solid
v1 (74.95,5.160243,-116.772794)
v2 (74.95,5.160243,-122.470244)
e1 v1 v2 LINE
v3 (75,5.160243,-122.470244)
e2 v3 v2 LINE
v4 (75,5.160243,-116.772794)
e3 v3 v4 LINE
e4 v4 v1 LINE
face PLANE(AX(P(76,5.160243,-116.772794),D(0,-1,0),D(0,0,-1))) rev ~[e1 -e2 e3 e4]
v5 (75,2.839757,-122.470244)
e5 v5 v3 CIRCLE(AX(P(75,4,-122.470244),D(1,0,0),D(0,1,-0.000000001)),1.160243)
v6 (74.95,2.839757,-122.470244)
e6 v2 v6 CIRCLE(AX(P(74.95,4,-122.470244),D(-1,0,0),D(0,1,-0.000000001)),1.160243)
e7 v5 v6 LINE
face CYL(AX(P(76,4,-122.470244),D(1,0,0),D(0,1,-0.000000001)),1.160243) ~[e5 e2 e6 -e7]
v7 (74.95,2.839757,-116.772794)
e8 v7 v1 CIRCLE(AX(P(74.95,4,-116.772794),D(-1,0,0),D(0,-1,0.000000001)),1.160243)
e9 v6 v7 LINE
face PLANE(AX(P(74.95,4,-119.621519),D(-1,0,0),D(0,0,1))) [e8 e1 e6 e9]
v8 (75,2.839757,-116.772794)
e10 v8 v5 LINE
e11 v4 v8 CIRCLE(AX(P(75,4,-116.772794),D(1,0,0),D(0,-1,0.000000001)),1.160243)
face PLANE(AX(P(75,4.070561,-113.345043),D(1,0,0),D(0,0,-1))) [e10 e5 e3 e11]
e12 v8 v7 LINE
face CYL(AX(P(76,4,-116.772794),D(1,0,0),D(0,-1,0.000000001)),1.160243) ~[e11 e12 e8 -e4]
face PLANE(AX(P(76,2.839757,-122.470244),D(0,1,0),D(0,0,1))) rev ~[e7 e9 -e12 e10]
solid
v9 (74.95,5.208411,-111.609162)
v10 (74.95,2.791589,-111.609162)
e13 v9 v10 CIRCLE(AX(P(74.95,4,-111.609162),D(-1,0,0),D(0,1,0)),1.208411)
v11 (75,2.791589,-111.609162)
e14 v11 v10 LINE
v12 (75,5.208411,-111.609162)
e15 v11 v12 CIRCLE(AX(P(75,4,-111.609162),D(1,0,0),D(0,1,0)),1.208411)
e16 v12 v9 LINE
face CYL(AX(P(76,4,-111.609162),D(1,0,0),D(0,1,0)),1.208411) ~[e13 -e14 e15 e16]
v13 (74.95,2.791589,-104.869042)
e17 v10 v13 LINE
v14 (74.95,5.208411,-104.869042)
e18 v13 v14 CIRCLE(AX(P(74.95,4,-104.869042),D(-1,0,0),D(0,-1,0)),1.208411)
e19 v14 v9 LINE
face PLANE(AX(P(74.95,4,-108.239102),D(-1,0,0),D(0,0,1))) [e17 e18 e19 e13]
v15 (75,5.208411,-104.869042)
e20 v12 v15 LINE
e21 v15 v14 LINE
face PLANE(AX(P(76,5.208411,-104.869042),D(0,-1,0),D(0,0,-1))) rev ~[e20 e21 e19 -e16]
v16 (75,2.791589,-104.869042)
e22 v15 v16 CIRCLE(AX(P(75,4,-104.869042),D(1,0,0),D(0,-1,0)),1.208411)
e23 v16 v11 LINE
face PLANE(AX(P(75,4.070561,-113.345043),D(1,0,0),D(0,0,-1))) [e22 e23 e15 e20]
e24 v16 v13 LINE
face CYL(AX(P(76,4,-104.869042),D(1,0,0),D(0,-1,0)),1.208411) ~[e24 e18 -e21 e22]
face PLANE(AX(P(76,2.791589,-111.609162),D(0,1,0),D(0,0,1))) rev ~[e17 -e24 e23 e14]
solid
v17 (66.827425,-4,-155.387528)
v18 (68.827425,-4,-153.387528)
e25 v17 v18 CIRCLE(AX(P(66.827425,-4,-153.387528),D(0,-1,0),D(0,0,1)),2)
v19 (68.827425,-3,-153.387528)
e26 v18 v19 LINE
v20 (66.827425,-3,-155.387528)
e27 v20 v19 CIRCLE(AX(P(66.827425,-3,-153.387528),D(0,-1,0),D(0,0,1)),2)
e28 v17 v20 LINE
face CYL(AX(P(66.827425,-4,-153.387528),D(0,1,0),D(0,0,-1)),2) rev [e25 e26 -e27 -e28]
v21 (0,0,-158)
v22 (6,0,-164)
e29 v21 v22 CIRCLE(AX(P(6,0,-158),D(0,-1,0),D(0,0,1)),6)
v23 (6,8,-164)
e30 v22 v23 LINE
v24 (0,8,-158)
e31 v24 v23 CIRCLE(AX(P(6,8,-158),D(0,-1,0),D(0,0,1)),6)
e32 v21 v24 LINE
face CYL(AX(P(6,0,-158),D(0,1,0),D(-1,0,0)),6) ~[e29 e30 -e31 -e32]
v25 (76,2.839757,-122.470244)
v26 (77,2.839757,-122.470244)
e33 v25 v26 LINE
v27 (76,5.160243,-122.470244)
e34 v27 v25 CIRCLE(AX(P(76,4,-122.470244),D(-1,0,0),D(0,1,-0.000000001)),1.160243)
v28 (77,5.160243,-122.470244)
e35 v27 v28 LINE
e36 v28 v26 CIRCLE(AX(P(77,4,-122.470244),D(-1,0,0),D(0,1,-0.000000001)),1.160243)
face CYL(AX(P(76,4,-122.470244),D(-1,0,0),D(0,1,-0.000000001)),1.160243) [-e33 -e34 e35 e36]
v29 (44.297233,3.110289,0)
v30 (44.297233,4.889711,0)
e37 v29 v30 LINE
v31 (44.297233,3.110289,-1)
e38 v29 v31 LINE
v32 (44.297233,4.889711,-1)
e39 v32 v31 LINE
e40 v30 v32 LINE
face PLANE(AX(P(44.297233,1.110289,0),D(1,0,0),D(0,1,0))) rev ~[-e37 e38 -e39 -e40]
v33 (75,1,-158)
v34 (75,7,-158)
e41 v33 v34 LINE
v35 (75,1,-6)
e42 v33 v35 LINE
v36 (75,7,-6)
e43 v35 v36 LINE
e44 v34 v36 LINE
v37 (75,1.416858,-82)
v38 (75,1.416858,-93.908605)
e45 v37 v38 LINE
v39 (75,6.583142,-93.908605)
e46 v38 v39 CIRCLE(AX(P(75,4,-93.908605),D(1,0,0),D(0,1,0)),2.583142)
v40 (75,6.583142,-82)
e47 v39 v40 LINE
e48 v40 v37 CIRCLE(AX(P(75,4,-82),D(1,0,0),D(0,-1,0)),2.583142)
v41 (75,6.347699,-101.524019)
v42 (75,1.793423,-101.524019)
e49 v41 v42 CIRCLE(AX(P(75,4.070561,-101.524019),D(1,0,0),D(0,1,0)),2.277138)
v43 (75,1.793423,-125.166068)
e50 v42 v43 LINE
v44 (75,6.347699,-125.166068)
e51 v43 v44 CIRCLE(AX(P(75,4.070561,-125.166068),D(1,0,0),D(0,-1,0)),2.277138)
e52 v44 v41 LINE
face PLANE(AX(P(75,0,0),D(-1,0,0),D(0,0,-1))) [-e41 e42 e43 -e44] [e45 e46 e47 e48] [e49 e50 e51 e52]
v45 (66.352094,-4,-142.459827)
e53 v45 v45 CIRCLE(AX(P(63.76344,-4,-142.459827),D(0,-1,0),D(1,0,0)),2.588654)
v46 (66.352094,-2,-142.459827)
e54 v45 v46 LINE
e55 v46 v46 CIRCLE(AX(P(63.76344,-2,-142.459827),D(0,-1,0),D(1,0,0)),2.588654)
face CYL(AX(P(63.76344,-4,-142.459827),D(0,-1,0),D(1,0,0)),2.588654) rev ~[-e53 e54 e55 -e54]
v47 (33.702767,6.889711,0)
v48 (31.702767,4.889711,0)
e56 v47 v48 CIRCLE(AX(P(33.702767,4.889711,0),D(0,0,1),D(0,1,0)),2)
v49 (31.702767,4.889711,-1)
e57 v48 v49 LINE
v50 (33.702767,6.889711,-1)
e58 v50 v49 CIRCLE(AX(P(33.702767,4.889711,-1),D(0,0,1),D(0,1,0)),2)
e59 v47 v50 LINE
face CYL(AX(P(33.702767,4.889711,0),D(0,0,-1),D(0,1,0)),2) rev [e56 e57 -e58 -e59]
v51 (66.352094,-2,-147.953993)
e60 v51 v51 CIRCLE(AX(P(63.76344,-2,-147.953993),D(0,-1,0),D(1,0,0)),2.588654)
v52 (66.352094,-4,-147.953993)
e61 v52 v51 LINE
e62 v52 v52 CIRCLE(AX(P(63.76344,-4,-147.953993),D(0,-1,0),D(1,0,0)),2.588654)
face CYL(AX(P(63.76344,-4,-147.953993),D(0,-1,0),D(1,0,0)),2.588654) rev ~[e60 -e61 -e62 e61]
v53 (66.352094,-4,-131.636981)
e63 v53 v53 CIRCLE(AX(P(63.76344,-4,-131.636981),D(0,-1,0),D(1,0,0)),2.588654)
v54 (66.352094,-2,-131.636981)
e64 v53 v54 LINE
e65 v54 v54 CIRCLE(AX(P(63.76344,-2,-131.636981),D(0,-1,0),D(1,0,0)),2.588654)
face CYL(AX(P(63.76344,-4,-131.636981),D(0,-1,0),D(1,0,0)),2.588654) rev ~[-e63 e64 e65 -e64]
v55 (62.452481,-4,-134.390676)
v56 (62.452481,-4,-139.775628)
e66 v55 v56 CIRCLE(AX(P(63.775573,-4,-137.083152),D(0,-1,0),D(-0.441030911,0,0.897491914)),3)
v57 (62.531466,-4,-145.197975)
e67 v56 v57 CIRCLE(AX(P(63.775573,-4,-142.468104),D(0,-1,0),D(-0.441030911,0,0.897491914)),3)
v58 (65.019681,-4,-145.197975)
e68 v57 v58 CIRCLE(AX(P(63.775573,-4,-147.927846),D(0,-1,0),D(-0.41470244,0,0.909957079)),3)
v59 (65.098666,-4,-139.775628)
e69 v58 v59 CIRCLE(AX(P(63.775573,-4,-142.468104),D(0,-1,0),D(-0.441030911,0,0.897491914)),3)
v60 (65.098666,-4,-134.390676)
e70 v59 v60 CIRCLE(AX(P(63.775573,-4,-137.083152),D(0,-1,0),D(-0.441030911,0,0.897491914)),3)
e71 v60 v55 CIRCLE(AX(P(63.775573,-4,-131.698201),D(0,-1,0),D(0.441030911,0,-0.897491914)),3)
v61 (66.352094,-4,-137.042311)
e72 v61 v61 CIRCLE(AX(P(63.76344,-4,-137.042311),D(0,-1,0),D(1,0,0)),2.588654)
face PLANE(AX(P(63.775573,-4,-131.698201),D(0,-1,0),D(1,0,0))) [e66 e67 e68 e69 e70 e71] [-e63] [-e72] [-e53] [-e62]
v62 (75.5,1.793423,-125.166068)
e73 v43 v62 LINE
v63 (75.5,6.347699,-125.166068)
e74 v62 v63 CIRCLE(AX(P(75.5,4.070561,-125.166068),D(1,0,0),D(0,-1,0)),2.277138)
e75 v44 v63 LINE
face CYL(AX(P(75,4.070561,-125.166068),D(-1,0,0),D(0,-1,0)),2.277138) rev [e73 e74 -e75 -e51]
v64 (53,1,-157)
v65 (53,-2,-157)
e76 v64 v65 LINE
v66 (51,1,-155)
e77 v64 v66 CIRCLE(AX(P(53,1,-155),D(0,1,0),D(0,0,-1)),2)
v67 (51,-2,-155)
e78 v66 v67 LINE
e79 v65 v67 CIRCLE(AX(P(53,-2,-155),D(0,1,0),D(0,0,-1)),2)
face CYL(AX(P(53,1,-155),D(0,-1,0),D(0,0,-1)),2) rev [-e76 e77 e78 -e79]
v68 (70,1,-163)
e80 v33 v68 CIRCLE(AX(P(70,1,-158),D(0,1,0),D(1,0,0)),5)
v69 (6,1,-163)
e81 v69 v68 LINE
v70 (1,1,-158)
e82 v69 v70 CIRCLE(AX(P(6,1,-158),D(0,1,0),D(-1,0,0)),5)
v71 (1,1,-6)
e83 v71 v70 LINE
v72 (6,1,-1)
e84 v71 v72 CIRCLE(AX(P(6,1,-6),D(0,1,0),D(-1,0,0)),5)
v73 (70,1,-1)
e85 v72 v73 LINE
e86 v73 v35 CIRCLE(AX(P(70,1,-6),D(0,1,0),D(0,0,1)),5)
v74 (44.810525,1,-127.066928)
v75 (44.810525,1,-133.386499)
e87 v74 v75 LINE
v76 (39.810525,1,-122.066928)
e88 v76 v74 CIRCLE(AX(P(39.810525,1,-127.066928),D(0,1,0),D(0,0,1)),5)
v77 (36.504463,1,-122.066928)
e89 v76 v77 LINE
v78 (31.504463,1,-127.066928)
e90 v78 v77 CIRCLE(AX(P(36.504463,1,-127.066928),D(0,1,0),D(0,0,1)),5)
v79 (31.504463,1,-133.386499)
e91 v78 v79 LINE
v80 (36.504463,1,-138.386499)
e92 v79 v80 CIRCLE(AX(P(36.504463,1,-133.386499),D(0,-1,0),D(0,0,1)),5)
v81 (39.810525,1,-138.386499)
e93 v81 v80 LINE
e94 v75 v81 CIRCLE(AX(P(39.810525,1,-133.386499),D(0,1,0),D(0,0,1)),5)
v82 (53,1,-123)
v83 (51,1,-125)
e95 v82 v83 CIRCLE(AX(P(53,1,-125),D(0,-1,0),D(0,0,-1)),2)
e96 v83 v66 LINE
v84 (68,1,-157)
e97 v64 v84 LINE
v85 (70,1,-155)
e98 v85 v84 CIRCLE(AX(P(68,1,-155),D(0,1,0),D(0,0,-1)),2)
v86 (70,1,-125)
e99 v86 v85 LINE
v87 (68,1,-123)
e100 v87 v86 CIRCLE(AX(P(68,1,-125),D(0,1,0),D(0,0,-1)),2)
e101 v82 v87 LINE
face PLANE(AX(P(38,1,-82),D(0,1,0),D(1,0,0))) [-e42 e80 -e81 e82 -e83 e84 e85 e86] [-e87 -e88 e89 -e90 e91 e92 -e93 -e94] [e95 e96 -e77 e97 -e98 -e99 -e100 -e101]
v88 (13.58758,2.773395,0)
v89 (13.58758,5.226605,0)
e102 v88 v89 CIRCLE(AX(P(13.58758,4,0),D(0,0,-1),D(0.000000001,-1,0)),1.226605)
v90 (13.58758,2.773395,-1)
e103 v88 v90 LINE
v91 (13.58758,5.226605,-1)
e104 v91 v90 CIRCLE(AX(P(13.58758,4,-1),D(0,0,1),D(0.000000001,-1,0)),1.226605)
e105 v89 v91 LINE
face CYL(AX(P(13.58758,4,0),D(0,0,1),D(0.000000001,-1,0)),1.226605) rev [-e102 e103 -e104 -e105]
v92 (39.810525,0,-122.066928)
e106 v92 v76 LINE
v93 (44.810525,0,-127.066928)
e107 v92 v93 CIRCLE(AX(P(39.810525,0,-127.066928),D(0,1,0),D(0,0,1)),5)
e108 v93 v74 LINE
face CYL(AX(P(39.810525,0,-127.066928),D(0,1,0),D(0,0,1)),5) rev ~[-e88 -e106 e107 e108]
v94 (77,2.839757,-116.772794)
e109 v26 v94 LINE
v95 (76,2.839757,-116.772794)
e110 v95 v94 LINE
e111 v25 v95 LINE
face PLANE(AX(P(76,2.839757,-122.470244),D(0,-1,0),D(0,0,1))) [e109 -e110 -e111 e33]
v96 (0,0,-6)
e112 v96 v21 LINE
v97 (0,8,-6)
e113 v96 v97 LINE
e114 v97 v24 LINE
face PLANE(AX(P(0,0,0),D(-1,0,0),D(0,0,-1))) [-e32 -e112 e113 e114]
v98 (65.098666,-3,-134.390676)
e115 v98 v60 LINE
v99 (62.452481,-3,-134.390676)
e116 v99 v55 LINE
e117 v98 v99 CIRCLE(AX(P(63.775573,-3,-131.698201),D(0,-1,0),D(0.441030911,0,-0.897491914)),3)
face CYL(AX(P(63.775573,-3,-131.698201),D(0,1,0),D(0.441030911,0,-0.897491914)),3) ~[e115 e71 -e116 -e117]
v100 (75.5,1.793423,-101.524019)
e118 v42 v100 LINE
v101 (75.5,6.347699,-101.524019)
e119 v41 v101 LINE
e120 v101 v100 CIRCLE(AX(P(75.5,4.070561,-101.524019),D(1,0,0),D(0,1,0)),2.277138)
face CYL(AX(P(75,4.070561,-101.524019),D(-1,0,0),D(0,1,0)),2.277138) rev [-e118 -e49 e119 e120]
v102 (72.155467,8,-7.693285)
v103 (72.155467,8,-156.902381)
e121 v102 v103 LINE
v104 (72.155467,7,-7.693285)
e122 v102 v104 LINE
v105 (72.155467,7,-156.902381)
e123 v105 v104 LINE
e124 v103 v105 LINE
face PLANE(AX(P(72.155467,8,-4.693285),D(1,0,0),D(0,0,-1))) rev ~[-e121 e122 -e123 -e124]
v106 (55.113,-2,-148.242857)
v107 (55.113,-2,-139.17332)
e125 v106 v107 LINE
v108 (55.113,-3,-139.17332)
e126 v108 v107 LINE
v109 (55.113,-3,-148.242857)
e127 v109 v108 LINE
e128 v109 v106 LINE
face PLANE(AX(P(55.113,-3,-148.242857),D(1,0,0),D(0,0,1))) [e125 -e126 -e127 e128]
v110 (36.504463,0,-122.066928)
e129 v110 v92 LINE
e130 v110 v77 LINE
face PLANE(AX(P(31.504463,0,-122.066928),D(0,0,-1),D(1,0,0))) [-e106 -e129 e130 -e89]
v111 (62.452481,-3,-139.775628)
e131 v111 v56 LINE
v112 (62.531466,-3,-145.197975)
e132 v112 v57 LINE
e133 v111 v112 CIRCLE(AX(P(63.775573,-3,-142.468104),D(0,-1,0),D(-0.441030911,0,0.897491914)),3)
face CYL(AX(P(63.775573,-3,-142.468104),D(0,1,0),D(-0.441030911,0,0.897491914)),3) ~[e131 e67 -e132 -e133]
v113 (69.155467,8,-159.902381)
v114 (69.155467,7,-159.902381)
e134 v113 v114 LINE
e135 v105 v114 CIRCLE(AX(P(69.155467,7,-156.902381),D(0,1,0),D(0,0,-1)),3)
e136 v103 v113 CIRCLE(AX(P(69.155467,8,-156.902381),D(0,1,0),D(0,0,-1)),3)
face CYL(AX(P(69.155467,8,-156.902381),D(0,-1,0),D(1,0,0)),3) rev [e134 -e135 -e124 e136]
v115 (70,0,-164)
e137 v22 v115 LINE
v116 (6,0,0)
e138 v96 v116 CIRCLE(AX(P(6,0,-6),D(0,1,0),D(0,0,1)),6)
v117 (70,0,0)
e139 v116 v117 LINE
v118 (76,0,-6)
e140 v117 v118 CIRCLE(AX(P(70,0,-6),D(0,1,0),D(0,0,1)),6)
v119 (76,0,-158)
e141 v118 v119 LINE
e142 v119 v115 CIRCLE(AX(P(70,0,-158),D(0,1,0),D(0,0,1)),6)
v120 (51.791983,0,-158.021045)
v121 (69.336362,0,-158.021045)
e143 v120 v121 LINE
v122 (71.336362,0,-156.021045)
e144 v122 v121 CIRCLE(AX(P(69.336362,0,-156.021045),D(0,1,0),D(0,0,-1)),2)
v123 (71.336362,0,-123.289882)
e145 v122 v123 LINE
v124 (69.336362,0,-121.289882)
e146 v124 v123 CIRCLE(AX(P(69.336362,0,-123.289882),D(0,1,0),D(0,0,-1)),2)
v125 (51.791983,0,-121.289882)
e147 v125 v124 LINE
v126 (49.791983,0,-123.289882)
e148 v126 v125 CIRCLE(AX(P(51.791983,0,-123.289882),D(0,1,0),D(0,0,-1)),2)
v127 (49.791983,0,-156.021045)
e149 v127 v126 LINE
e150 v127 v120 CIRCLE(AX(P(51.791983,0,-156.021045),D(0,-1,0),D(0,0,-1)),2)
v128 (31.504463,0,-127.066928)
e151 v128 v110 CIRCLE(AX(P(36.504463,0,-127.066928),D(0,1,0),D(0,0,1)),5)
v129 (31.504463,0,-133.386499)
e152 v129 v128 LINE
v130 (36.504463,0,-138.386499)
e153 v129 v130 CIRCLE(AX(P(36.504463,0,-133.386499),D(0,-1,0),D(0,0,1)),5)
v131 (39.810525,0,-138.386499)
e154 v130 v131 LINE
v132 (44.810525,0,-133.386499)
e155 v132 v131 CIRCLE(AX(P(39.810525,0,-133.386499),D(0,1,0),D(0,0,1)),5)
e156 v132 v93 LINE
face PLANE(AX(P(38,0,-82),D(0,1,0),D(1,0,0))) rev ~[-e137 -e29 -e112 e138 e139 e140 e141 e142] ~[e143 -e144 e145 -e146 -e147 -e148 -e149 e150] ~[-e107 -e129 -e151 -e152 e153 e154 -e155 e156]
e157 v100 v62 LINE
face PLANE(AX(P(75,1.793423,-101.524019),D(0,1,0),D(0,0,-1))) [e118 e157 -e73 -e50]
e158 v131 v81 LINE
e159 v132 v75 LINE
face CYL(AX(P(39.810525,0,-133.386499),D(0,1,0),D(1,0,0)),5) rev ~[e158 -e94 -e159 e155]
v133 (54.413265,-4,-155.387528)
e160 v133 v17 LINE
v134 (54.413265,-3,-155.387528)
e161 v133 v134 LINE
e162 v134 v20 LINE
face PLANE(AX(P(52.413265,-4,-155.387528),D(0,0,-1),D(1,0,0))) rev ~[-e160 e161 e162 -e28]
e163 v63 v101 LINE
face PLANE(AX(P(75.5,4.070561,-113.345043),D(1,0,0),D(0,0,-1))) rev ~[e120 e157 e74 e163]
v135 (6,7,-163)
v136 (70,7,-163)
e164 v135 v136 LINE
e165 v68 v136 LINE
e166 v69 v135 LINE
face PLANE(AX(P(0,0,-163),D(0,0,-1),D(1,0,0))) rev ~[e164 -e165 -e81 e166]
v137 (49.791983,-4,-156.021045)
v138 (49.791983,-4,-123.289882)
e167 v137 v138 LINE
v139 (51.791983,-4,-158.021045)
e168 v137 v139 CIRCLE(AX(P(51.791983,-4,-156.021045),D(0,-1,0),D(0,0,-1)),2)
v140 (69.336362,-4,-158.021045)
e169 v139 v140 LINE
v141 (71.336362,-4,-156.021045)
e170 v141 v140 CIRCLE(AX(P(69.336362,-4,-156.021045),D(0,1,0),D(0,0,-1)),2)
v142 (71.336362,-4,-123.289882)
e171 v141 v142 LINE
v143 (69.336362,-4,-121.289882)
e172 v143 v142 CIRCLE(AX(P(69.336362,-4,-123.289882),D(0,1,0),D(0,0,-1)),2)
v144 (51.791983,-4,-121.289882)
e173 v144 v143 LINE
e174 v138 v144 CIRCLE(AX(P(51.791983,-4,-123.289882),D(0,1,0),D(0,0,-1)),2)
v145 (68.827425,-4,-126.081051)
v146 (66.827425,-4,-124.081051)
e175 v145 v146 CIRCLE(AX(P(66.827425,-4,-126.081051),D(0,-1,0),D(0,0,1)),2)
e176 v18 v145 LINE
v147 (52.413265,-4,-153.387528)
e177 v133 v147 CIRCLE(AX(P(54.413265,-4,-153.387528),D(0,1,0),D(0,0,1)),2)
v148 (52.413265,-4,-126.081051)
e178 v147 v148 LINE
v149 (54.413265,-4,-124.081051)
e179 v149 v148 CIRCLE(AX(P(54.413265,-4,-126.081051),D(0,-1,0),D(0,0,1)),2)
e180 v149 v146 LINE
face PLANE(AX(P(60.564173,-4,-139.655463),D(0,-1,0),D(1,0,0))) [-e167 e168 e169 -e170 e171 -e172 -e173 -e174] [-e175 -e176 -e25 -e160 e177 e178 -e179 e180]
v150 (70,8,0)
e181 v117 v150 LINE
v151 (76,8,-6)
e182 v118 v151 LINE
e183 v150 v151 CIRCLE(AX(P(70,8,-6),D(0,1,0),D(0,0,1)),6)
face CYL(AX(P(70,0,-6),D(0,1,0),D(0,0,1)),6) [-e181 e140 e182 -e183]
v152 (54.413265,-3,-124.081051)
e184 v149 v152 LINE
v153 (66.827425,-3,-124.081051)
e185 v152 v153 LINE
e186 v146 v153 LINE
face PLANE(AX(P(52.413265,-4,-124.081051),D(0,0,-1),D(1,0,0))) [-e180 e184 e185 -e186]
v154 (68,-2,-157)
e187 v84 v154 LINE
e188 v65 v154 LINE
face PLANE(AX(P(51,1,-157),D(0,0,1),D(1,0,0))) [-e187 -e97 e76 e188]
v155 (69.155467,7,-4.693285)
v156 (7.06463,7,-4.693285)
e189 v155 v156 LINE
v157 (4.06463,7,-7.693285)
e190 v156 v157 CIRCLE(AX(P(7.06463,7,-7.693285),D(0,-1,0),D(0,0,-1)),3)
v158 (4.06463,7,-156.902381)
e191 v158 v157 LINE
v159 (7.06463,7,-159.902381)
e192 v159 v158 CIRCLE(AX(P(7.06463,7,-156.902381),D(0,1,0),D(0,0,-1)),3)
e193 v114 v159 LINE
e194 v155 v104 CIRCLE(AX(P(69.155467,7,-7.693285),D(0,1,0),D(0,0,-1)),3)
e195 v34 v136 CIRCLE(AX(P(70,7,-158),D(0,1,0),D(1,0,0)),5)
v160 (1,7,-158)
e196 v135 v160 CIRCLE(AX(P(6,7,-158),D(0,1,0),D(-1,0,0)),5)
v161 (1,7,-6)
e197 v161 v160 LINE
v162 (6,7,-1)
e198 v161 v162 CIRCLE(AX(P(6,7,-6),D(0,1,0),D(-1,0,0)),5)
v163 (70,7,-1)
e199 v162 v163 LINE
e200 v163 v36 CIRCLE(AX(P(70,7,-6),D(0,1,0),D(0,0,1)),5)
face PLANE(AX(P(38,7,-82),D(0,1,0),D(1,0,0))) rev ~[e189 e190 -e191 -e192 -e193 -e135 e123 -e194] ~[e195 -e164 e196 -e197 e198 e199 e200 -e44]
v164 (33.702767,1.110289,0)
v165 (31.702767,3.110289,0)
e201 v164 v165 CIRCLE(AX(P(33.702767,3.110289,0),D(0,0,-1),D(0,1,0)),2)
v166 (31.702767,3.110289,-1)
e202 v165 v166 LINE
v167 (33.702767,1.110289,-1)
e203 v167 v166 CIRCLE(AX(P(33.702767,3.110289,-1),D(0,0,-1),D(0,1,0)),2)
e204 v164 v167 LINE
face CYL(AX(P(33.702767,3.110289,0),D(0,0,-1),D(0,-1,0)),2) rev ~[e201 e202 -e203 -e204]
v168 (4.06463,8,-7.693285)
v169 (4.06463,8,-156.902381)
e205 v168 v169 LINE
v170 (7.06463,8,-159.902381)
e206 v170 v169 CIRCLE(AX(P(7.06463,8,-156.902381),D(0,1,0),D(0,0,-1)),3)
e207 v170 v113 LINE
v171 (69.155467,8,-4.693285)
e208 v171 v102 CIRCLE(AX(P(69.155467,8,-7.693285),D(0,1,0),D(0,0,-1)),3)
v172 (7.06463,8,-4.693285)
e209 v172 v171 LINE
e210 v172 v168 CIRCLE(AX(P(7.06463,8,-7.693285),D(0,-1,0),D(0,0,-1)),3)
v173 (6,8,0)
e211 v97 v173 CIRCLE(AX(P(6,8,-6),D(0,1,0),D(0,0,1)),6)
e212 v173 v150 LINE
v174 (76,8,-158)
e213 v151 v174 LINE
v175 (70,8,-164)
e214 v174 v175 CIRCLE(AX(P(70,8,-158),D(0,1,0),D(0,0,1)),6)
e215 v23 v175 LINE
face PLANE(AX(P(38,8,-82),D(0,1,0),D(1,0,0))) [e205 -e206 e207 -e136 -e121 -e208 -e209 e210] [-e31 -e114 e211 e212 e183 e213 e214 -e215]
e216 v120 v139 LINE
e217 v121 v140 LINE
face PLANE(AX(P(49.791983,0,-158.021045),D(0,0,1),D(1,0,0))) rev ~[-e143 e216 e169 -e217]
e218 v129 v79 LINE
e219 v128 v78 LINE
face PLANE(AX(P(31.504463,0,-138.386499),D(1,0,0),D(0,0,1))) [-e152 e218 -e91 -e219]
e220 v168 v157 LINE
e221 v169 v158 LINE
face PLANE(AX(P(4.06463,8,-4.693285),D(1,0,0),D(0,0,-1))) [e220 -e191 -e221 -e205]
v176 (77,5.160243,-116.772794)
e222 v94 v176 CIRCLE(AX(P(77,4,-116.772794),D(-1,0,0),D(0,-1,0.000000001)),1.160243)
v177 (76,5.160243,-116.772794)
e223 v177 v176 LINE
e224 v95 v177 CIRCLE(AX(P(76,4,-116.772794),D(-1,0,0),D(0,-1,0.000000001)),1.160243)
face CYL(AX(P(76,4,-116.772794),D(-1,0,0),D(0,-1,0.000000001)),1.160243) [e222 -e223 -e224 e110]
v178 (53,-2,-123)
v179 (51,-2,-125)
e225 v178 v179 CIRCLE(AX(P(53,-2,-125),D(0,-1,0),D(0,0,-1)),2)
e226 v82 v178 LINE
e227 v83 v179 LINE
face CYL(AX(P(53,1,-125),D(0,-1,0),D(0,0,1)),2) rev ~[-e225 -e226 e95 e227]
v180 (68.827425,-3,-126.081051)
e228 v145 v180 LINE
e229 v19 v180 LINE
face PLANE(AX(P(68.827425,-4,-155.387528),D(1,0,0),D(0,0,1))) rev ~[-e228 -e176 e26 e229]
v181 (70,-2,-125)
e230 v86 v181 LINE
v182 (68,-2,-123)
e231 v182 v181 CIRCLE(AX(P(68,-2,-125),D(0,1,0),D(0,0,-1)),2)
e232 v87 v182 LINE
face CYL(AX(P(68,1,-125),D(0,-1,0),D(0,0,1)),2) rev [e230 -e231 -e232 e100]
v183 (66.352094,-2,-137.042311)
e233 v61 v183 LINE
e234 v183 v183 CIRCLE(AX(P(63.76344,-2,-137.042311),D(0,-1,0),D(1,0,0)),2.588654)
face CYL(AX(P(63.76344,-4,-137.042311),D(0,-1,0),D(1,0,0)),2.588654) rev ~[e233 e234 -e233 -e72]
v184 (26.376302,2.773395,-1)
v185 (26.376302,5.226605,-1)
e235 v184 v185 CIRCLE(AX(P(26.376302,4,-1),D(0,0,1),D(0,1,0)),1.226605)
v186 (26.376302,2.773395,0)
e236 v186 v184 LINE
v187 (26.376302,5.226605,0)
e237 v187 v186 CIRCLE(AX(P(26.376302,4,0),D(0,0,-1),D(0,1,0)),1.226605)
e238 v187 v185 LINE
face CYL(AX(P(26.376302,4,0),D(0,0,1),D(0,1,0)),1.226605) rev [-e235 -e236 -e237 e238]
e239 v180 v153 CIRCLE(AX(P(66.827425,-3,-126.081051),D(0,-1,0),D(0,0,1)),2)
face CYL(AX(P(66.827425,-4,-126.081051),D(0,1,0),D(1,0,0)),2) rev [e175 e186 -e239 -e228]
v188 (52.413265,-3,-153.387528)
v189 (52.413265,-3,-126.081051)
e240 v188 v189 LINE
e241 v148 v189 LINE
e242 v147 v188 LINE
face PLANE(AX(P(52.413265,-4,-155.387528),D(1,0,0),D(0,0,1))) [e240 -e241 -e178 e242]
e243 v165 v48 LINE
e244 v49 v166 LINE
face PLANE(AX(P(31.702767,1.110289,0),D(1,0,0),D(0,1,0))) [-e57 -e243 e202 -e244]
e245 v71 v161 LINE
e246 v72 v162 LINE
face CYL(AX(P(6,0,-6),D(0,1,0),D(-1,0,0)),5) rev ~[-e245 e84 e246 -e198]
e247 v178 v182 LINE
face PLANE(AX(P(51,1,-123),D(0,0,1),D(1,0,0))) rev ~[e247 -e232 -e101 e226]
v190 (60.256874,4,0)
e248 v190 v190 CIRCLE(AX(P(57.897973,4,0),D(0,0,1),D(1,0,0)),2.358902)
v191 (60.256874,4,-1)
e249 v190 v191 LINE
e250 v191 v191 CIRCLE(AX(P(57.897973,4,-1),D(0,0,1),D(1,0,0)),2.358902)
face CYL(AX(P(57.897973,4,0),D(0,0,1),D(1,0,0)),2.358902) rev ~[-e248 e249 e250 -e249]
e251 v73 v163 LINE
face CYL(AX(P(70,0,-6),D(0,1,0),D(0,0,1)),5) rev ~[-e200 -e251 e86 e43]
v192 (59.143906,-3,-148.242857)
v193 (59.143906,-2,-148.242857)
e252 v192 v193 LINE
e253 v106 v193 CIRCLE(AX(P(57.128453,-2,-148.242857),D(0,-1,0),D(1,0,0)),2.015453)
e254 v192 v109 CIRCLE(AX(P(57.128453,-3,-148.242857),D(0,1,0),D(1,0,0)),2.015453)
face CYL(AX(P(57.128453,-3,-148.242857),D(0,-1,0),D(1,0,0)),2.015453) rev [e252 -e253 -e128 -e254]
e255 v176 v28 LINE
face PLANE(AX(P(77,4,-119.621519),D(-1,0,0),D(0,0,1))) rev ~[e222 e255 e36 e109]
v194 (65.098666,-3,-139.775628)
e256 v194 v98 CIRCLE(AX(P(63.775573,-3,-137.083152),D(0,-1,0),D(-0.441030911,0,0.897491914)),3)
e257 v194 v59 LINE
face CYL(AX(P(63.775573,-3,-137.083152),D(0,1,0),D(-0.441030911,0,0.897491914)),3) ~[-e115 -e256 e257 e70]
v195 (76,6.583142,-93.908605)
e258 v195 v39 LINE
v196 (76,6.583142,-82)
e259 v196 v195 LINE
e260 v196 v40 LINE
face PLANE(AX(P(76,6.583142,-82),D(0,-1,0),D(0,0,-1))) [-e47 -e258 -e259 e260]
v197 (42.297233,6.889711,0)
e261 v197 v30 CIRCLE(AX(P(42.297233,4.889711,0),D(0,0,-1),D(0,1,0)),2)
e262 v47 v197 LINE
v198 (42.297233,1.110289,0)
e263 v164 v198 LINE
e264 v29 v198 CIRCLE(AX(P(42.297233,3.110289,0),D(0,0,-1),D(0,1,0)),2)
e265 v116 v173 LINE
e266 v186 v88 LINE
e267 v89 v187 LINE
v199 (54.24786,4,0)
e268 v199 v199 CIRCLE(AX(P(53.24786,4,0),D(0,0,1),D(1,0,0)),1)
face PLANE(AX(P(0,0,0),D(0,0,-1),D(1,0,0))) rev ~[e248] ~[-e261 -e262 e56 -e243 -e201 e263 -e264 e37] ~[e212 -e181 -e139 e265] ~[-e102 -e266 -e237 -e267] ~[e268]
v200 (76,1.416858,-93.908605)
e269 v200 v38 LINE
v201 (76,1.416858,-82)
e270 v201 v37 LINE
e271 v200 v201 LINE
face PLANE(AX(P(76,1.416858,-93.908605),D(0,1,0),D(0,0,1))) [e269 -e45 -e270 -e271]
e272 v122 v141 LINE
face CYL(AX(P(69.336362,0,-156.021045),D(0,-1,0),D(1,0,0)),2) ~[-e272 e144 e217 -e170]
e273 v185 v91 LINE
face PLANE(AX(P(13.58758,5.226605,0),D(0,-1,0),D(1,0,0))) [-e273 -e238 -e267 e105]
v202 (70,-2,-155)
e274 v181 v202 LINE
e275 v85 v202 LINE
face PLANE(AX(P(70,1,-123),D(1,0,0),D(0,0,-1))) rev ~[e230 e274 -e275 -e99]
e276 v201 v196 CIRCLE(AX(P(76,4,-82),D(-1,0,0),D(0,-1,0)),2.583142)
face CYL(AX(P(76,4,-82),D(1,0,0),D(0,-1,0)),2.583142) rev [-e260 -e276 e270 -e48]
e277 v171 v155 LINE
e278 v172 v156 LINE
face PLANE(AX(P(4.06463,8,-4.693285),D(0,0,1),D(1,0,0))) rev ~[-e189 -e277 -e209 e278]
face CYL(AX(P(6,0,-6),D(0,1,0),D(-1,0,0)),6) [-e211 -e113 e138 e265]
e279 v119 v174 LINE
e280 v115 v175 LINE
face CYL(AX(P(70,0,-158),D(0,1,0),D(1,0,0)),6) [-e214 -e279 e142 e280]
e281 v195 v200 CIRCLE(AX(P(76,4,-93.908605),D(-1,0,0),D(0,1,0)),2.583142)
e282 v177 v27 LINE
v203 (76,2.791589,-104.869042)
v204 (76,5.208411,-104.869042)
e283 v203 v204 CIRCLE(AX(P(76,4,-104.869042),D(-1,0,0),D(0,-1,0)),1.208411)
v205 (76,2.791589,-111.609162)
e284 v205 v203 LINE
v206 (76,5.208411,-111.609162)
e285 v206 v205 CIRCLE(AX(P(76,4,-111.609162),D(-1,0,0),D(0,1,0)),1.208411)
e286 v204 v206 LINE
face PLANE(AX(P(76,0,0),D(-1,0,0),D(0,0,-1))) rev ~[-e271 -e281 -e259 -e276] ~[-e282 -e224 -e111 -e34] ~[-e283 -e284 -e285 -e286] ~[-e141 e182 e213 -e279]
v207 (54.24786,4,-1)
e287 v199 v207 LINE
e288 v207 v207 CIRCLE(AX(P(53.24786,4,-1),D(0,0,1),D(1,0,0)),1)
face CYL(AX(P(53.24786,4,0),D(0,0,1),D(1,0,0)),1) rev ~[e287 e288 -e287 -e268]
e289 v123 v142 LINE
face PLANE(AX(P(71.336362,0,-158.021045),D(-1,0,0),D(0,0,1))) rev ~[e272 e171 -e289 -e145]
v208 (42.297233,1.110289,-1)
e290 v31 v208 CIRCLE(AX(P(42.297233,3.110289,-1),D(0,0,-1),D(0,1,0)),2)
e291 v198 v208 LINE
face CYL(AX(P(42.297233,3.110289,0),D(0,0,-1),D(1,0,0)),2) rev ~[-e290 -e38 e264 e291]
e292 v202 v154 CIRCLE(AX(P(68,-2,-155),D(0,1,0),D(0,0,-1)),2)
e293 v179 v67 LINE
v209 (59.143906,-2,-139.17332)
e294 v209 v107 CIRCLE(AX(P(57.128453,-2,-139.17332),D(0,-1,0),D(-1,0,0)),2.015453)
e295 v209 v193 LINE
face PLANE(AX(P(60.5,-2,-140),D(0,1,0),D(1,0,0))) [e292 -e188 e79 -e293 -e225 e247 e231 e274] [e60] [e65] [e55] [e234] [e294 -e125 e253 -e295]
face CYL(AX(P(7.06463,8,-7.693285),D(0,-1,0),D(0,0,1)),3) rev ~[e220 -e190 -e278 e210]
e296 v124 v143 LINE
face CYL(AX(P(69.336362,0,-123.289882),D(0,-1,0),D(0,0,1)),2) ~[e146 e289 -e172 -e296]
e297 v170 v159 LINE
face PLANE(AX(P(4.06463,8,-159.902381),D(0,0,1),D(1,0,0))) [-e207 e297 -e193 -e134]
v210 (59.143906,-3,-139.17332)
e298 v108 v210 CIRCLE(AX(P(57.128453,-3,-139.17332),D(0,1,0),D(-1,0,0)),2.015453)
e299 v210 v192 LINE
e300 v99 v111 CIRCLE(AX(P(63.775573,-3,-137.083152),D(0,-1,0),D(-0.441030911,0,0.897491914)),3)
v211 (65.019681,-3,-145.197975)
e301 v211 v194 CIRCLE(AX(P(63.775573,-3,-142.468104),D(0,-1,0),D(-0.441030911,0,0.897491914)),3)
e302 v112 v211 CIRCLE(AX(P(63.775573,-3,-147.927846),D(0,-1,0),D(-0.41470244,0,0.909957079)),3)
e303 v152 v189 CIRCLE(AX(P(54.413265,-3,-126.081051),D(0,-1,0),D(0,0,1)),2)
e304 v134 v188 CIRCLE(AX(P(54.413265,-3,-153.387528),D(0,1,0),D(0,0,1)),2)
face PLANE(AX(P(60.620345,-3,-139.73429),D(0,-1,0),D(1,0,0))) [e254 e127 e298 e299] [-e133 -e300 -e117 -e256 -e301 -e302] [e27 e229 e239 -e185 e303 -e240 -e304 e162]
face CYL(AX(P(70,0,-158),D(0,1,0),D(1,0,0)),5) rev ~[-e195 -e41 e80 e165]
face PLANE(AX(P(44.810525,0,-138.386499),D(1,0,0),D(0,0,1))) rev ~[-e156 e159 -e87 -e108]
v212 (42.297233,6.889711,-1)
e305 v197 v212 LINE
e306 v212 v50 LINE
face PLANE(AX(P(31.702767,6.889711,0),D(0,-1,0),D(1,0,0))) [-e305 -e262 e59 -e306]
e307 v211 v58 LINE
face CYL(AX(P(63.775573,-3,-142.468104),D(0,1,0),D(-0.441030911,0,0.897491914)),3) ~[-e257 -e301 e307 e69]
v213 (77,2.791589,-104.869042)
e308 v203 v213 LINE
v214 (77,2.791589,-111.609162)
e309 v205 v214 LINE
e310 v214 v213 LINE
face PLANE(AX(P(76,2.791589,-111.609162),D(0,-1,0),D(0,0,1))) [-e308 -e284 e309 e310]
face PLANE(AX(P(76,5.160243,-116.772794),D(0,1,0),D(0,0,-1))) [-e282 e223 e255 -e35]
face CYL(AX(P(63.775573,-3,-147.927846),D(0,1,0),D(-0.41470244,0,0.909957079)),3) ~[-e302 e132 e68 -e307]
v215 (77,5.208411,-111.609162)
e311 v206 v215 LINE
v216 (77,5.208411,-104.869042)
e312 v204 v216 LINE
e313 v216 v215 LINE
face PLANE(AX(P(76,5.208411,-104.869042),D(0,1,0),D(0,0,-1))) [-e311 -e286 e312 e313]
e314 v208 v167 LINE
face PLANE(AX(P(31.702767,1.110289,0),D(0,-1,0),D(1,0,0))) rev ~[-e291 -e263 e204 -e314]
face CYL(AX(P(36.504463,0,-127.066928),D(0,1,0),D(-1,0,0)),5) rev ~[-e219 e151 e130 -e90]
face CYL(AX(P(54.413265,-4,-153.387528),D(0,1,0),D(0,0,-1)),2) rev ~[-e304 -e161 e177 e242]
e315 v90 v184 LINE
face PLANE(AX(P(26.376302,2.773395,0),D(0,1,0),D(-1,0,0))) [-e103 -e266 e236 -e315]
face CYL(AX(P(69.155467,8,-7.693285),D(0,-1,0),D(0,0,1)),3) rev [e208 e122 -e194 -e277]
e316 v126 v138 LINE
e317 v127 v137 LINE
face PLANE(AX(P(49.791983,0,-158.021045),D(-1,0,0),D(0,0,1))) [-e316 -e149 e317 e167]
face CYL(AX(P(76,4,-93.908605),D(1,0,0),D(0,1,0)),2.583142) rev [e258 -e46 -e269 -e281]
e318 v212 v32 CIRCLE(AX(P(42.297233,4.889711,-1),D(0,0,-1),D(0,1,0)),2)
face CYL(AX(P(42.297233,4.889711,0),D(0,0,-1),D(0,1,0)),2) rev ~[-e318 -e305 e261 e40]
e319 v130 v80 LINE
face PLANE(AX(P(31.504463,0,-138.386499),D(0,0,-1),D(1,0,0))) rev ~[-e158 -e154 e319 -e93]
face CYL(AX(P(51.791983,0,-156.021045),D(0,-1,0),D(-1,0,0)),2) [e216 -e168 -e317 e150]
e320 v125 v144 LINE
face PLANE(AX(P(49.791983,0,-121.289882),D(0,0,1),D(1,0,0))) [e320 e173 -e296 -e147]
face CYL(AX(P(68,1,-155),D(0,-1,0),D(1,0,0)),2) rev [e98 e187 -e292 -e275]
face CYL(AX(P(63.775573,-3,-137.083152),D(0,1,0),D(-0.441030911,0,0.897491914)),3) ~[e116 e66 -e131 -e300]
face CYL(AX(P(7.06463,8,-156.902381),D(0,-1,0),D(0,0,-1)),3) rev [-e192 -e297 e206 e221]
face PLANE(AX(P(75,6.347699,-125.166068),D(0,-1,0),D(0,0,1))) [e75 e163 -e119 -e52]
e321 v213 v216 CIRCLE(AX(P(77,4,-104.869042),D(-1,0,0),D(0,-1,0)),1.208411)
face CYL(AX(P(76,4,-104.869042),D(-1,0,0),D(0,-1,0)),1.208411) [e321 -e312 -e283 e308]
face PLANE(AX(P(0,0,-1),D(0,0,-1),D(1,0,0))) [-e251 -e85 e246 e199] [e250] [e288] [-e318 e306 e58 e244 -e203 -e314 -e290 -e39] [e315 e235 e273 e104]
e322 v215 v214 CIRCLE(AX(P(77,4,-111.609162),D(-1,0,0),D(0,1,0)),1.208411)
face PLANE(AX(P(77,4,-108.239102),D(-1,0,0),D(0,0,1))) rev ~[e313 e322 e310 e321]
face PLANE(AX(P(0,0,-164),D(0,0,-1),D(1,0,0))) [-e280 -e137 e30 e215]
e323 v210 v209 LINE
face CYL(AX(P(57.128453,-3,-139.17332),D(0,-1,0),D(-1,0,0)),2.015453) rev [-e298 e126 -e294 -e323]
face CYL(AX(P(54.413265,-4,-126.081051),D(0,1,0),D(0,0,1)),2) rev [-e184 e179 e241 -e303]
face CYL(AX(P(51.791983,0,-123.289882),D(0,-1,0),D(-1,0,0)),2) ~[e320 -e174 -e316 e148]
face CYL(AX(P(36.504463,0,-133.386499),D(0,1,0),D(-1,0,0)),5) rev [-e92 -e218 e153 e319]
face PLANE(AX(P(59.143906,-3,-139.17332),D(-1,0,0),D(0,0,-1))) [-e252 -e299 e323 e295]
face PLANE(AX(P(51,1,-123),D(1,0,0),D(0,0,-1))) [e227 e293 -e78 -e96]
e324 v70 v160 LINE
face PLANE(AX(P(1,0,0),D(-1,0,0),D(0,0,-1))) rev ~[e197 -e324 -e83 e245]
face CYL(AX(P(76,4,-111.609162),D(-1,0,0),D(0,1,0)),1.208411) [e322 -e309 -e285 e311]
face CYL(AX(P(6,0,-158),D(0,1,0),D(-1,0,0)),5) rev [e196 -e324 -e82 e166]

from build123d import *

# Parameters (mm, degrees)
SKETCH1_W                = 76
SKETCH1_H                = 164
BOSS_EXTRUDE1_DEPTH      = 8
FILLET1_R                = 6
SHELL1_T                 = 1
CUT_EXTRUDE1_REACH       = 10
SKETCH2_W                = 68.090837492
SKETCH2_H                = 155.209096006
FILLET2_R                = 3
SKETCH4_W                = 21.544378241
SKETCH4_H                = 36.731163213
BOSS_EXTRUDE2_DEPTH      = 4
SKETCH6_W                = 16.414160097
SKETCH6_H                = 31.306477537
CUT_EXTRUDE2_DEPTH       = 1
FILLET3_R                = 2
SKETCH8_R                = 3
BOSS_EXTRUDE4_DEPTH      = 1
SKETCH9_R                = 2.588654276
CUT_EXTRUDE3_DEPTH       = 13
CUT_EXTRUDE4_DEPTH       = 12
SKETCH11_W               = 13.306062394
SKETCH11_H               = 16.319570906
CUT_EXTRUDE5_DEPTH       = 9
FILLET4_R                = 5
SKETCH12_W               = 19
SKETCH12_H               = 34
CUT_EXTRUDE6_DEPTH       = 3
FILLET5_R                = 2
SKETCH13_R               = 1
SKETCH13_R_2             = 2.358901761
SKETCH13_W               = 12.594466328
SKETCH13_H               = 5.779421342
CUT_EXTRUDE7_DEPTH       = 3
FILLET6_R                = 2
CUT_EXTRUDE8_DEPTH       = 3
BOSS_EXTRUDE5_DEPTH      = 1
BOSS_EXTRUDE5_DEPTH_BACK = 1.05
CUT_EXTRUDE10_DEPTH      = 0.5


with BuildPart() as part:
    # Sketch1 → Boss-Extrude1 (new body)
    with BuildSketch(Plane(origin=(0, 0, 0), x_dir=(1, 0, 0), z_dir=(0, 1, 0))):
        with Locations((38, 82)):
            Rectangle(SKETCH1_W, SKETCH1_H)
    extrude(amount=BOSS_EXTRUDE1_DEPTH)

    # Fillet1
    fillet1_edges = [part.edges().sort_by_distance(p)[0] for p in [
        (0, 4, -164),
        (76, 4, -164),
        (76, 4, 0),
        (0, 4, 0),
    ]]
    fillet(fillet1_edges, radius=FILLET1_R)

    # Shell1 (no face opened: a closed hollow body)
    add(offset(amount=-SHELL1_T, mode=Mode.PRIVATE), mode=Mode.SUBTRACT)

    # Sketch2 → Cut-Extrude1 (cut, up to next)
    with BuildSketch(Plane(origin=(0, 8, 0), x_dir=(1, 0, 0), z_dir=(0, 1, 0)), mode=Mode.PRIVATE) as cut_extrude1_sk1:
        with Locations((38.110048525, 82.297833248)):
            Rectangle(SKETCH2_W, SKETCH2_H)
    cut_extrude1_tool1 = extrude(cut_extrude1_sk1.sketch, amount=-CUT_EXTRUDE1_REACH, mode=Mode.PRIVATE) & part.part
    add(cut_extrude1_tool1.solids().sort_by_distance((38.110049, 8, -82.297833))[0], mode=Mode.SUBTRACT)

    # Fillet2
    fillet2_edges = [part.edges().sort_by_distance(p)[0] for p in [
        (4.064629779, 7.5, -4.693285245),
        (4.064629779, 7.5, -159.902381251),
        (72.155467271, 7.5, -159.902381251),
        (72.155467271, 7.5, -4.693285245),
    ]]
    fillet(fillet2_edges, radius=FILLET2_R)

    # Sketch4 → Boss-Extrude2 (add)
    with BuildSketch(Plane.XZ):
        with Locations((60.564172536, -139.655463134)):
            Rectangle(SKETCH4_W, SKETCH4_H)
    extrude(amount=BOSS_EXTRUDE2_DEPTH)

    # Sketch6 → Cut-Extrude2 (cut)
    with BuildSketch(Plane.XZ.offset(4)):
        with Locations((60.620345212, -139.734289673)):
            Rectangle(SKETCH6_W, SKETCH6_H)
    extrude(amount=-CUT_EXTRUDE2_DEPTH, mode=Mode.SUBTRACT)

    # Fillet3
    fillet3_edges = [part.edges().sort_by_distance(p)[0] for p in [
        (52.413265163, -3.5, -155.387528441),
        (52.413265163, -3.5, -124.081050904),
        (68.82742526, -3.5, -124.081050904),
        (68.82742526, -3.5, -155.387528441),
        (49.791983416, -2, -158.021044741),
        (71.336361657, -2, -158.021044741),
        (71.336361657, -2, -121.289881528),
        (49.791983416, -2, -121.289881528),
    ]]
    fillet(fillet3_edges, radius=FILLET3_R)

    # Sketch8 → Boss-Extrude4 (add)
    with BuildSketch(Plane.XZ.offset(3)):
        with Locations((63.775573367, -131.698200541)):
            Circle(SKETCH8_R)
        with Locations((63.775573367, -137.083152025)):
            Circle(SKETCH8_R)
        with Locations((63.775573367, -142.468103509)):
            Circle(SKETCH8_R)
        with Locations((63.775573367, -147.927845985)):
            Circle(SKETCH8_R)
    extrude(amount=BOSS_EXTRUDE4_DEPTH)

    # Sketch9 → Cut-Extrude3 (cut, through all)
    with BuildSketch(Plane.XZ.offset(4)):
        with Locations((63.763440022, -131.636981019)):
            Circle(SKETCH9_R)
        with Locations((63.763440022, -137.042310835)):
            Circle(SKETCH9_R)
        with Locations((63.763440022, -142.459827466)):
            Circle(SKETCH9_R)
        with Locations((63.763440022, -147.953993096)):
            Circle(SKETCH9_R)
    extrude(amount=-CUT_EXTRUDE3_DEPTH, mode=Mode.SUBTRACT)

    # Sketch10 → Cut-Extrude4 (cut, through all)
    with BuildSketch(Plane.XZ.offset(3)):
        with BuildLine():
            Line((55.113000289, -148.242856688), (55.113000289, -139.17331968))
            ThreePointArc((55.113000289, -139.17331968), (57.128452957, -137.157867012), (59.143905626, -139.17331968))
            Line((59.143905626, -139.17331968), (59.143905626, -148.242856688))
            ThreePointArc((59.143905626, -148.242856688), (57.128452957, -150.258309356), (55.113000289, -148.242856688))
        make_face()
    extrude(amount=-CUT_EXTRUDE4_DEPTH, mode=Mode.SUBTRACT)

    # Sketch11 → Cut-Extrude5 (cut, through all)
    with BuildSketch(Plane.XZ):
        with Locations((38.157494148, -130.226713283)):
            Rectangle(SKETCH11_W, SKETCH11_H)
    extrude(amount=-CUT_EXTRUDE5_DEPTH, mode=Mode.SUBTRACT)

    # Fillet4
    fillet4_edges = [part.edges().sort_by_distance(p)[0] for p in [
        (44.810525345, 0.5, -122.06692783),
        (44.810525345, 0.5, -138.386498736),
        (31.504462951, 0.5, -138.386498736),
        (31.504462951, 0.5, -122.06692783),
    ]]
    fillet(fillet4_edges, radius=FILLET4_R)

    # Sketch12 → Cut-Extrude6 (cut)
    with BuildSketch(Plane(origin=(0, 1, 0), x_dir=(1, 0, 0), z_dir=(0, 1, 0))):
        with Locations((60.5, 140)):
            Rectangle(SKETCH12_W, SKETCH12_H)
    extrude(amount=-CUT_EXTRUDE6_DEPTH, mode=Mode.SUBTRACT)

    # Fillet5
    fillet5_edges = [part.edges().sort_by_distance(p)[0] for p in [
        (51, -0.5, -123),
        (51, -0.5, -157),
        (70, -0.5, -157),
        (70, -0.5, -123),
    ]]
    fillet(fillet5_edges, radius=FILLET5_R)

    # Sketch13 → Cut-Extrude7 (cut)
    with BuildSketch(Plane.XY):
        with Locations((53.247860204, 4)):
            Circle(SKETCH13_R)
        with Locations((57.897972679, 4)):
            Circle(SKETCH13_R_2)
        with Locations((38, 4)):
            Rectangle(SKETCH13_W, SKETCH13_H)
        with BuildLine():
            Line((13.587580426, 5.22660483), (26.376302174, 5.22660483))
            ThreePointArc((26.376302174, 5.22660483), (27.602907004, 4), (26.376302174, 2.77339517))
            Line((26.376302174, 2.77339517), (13.587580426, 2.77339517))
            ThreePointArc((13.587580426, 2.77339517), (12.360975595, 4), (13.587580426, 5.22660483))
        make_face()
    extrude(amount=-CUT_EXTRUDE7_DEPTH, mode=Mode.SUBTRACT)

    # Fillet6
    fillet6_edges = [part.edges().sort_by_distance(p)[0] for p in [
        (44.297233164, 6.889710671, -0.5),
        (44.297233164, 1.110289329, -0.5),
        (31.702766836, 1.110289329, -0.5),
        (31.702766836, 6.889710671, -0.5),
    ]]
    fillet(fillet6_edges, radius=FILLET6_R)

    # Sketch14 → Cut-Extrude8 (cut)
    with BuildSketch(Plane(origin=(76, 0, 0), x_dir=(0, 0, -1), z_dir=(1, 0, 0))):
        with BuildLine():
            Line((82, 6.583142287), (93.908604514, 6.583142287))
            ThreePointArc((93.908604514, 6.583142287), (96.491746801, 4), (93.908604514, 1.416857713))
            Line((93.908604514, 1.416857713), (82, 1.416857713))
            ThreePointArc((82, 1.416857713), (79.416857713, 4), (82, 6.583142287))
        make_face()
    extrude(amount=-CUT_EXTRUDE8_DEPTH, mode=Mode.SUBTRACT)

    # Sketch16 → Boss-Extrude5 (add, two sides)
    with BuildSketch(Plane(origin=(76, 0, 0), x_dir=(0, 0, -1), z_dir=(1, 0, 0))) as boss_extrude5_sk:
        with BuildLine():
            Line((104.869041793, 5.208410876), (111.609162215, 5.208410876))
            ThreePointArc((111.609162215, 5.208410876), (112.817573091, 4), (111.609162215, 2.791589124))
            Line((111.609162215, 2.791589124), (104.869041793, 2.791589124))
            ThreePointArc((104.869041793, 2.791589124), (103.660630917, 4), (104.869041793, 5.208410876))
        make_face()
        with BuildLine():
            Line((116.772794214, 5.160242941), (122.470244074, 5.160242941))
            ThreePointArc((122.470244074, 5.160242941), (123.630487014, 4), (122.470244074, 2.839757059))
            Line((122.470244074, 2.839757059), (116.772794214, 2.839757059))
            ThreePointArc((116.772794214, 2.839757059), (115.612551274, 4), (116.772794214, 5.160242941))
        make_face()
    extrude(amount=BOSS_EXTRUDE5_DEPTH)
    extrude(boss_extrude5_sk.sketch, amount=-BOSS_EXTRUDE5_DEPTH_BACK)

    # Sketch18 → Cut-Extrude10 (cut)
    with BuildSketch(Plane.ZY.offset(-75)):
        with BuildLine():
            Line((-125.166067696, 6.347699062), (-101.524019083, 6.347699062))
            ThreePointArc((-101.524019083, 6.347699062), (-99.246881257, 4.070561235), (-101.524019083, 1.793423409))
            Line((-101.524019083, 1.793423409), (-125.166067696, 1.793423409))
            ThreePointArc((-125.166067696, 1.793423409), (-127.443205522, 4.070561235), (-125.166067696, 6.347699062))
        make_face()
    extrude(amount=-CUT_EXTRUDE10_DEPTH, mode=Mode.SUBTRACT)


solid = part.part
